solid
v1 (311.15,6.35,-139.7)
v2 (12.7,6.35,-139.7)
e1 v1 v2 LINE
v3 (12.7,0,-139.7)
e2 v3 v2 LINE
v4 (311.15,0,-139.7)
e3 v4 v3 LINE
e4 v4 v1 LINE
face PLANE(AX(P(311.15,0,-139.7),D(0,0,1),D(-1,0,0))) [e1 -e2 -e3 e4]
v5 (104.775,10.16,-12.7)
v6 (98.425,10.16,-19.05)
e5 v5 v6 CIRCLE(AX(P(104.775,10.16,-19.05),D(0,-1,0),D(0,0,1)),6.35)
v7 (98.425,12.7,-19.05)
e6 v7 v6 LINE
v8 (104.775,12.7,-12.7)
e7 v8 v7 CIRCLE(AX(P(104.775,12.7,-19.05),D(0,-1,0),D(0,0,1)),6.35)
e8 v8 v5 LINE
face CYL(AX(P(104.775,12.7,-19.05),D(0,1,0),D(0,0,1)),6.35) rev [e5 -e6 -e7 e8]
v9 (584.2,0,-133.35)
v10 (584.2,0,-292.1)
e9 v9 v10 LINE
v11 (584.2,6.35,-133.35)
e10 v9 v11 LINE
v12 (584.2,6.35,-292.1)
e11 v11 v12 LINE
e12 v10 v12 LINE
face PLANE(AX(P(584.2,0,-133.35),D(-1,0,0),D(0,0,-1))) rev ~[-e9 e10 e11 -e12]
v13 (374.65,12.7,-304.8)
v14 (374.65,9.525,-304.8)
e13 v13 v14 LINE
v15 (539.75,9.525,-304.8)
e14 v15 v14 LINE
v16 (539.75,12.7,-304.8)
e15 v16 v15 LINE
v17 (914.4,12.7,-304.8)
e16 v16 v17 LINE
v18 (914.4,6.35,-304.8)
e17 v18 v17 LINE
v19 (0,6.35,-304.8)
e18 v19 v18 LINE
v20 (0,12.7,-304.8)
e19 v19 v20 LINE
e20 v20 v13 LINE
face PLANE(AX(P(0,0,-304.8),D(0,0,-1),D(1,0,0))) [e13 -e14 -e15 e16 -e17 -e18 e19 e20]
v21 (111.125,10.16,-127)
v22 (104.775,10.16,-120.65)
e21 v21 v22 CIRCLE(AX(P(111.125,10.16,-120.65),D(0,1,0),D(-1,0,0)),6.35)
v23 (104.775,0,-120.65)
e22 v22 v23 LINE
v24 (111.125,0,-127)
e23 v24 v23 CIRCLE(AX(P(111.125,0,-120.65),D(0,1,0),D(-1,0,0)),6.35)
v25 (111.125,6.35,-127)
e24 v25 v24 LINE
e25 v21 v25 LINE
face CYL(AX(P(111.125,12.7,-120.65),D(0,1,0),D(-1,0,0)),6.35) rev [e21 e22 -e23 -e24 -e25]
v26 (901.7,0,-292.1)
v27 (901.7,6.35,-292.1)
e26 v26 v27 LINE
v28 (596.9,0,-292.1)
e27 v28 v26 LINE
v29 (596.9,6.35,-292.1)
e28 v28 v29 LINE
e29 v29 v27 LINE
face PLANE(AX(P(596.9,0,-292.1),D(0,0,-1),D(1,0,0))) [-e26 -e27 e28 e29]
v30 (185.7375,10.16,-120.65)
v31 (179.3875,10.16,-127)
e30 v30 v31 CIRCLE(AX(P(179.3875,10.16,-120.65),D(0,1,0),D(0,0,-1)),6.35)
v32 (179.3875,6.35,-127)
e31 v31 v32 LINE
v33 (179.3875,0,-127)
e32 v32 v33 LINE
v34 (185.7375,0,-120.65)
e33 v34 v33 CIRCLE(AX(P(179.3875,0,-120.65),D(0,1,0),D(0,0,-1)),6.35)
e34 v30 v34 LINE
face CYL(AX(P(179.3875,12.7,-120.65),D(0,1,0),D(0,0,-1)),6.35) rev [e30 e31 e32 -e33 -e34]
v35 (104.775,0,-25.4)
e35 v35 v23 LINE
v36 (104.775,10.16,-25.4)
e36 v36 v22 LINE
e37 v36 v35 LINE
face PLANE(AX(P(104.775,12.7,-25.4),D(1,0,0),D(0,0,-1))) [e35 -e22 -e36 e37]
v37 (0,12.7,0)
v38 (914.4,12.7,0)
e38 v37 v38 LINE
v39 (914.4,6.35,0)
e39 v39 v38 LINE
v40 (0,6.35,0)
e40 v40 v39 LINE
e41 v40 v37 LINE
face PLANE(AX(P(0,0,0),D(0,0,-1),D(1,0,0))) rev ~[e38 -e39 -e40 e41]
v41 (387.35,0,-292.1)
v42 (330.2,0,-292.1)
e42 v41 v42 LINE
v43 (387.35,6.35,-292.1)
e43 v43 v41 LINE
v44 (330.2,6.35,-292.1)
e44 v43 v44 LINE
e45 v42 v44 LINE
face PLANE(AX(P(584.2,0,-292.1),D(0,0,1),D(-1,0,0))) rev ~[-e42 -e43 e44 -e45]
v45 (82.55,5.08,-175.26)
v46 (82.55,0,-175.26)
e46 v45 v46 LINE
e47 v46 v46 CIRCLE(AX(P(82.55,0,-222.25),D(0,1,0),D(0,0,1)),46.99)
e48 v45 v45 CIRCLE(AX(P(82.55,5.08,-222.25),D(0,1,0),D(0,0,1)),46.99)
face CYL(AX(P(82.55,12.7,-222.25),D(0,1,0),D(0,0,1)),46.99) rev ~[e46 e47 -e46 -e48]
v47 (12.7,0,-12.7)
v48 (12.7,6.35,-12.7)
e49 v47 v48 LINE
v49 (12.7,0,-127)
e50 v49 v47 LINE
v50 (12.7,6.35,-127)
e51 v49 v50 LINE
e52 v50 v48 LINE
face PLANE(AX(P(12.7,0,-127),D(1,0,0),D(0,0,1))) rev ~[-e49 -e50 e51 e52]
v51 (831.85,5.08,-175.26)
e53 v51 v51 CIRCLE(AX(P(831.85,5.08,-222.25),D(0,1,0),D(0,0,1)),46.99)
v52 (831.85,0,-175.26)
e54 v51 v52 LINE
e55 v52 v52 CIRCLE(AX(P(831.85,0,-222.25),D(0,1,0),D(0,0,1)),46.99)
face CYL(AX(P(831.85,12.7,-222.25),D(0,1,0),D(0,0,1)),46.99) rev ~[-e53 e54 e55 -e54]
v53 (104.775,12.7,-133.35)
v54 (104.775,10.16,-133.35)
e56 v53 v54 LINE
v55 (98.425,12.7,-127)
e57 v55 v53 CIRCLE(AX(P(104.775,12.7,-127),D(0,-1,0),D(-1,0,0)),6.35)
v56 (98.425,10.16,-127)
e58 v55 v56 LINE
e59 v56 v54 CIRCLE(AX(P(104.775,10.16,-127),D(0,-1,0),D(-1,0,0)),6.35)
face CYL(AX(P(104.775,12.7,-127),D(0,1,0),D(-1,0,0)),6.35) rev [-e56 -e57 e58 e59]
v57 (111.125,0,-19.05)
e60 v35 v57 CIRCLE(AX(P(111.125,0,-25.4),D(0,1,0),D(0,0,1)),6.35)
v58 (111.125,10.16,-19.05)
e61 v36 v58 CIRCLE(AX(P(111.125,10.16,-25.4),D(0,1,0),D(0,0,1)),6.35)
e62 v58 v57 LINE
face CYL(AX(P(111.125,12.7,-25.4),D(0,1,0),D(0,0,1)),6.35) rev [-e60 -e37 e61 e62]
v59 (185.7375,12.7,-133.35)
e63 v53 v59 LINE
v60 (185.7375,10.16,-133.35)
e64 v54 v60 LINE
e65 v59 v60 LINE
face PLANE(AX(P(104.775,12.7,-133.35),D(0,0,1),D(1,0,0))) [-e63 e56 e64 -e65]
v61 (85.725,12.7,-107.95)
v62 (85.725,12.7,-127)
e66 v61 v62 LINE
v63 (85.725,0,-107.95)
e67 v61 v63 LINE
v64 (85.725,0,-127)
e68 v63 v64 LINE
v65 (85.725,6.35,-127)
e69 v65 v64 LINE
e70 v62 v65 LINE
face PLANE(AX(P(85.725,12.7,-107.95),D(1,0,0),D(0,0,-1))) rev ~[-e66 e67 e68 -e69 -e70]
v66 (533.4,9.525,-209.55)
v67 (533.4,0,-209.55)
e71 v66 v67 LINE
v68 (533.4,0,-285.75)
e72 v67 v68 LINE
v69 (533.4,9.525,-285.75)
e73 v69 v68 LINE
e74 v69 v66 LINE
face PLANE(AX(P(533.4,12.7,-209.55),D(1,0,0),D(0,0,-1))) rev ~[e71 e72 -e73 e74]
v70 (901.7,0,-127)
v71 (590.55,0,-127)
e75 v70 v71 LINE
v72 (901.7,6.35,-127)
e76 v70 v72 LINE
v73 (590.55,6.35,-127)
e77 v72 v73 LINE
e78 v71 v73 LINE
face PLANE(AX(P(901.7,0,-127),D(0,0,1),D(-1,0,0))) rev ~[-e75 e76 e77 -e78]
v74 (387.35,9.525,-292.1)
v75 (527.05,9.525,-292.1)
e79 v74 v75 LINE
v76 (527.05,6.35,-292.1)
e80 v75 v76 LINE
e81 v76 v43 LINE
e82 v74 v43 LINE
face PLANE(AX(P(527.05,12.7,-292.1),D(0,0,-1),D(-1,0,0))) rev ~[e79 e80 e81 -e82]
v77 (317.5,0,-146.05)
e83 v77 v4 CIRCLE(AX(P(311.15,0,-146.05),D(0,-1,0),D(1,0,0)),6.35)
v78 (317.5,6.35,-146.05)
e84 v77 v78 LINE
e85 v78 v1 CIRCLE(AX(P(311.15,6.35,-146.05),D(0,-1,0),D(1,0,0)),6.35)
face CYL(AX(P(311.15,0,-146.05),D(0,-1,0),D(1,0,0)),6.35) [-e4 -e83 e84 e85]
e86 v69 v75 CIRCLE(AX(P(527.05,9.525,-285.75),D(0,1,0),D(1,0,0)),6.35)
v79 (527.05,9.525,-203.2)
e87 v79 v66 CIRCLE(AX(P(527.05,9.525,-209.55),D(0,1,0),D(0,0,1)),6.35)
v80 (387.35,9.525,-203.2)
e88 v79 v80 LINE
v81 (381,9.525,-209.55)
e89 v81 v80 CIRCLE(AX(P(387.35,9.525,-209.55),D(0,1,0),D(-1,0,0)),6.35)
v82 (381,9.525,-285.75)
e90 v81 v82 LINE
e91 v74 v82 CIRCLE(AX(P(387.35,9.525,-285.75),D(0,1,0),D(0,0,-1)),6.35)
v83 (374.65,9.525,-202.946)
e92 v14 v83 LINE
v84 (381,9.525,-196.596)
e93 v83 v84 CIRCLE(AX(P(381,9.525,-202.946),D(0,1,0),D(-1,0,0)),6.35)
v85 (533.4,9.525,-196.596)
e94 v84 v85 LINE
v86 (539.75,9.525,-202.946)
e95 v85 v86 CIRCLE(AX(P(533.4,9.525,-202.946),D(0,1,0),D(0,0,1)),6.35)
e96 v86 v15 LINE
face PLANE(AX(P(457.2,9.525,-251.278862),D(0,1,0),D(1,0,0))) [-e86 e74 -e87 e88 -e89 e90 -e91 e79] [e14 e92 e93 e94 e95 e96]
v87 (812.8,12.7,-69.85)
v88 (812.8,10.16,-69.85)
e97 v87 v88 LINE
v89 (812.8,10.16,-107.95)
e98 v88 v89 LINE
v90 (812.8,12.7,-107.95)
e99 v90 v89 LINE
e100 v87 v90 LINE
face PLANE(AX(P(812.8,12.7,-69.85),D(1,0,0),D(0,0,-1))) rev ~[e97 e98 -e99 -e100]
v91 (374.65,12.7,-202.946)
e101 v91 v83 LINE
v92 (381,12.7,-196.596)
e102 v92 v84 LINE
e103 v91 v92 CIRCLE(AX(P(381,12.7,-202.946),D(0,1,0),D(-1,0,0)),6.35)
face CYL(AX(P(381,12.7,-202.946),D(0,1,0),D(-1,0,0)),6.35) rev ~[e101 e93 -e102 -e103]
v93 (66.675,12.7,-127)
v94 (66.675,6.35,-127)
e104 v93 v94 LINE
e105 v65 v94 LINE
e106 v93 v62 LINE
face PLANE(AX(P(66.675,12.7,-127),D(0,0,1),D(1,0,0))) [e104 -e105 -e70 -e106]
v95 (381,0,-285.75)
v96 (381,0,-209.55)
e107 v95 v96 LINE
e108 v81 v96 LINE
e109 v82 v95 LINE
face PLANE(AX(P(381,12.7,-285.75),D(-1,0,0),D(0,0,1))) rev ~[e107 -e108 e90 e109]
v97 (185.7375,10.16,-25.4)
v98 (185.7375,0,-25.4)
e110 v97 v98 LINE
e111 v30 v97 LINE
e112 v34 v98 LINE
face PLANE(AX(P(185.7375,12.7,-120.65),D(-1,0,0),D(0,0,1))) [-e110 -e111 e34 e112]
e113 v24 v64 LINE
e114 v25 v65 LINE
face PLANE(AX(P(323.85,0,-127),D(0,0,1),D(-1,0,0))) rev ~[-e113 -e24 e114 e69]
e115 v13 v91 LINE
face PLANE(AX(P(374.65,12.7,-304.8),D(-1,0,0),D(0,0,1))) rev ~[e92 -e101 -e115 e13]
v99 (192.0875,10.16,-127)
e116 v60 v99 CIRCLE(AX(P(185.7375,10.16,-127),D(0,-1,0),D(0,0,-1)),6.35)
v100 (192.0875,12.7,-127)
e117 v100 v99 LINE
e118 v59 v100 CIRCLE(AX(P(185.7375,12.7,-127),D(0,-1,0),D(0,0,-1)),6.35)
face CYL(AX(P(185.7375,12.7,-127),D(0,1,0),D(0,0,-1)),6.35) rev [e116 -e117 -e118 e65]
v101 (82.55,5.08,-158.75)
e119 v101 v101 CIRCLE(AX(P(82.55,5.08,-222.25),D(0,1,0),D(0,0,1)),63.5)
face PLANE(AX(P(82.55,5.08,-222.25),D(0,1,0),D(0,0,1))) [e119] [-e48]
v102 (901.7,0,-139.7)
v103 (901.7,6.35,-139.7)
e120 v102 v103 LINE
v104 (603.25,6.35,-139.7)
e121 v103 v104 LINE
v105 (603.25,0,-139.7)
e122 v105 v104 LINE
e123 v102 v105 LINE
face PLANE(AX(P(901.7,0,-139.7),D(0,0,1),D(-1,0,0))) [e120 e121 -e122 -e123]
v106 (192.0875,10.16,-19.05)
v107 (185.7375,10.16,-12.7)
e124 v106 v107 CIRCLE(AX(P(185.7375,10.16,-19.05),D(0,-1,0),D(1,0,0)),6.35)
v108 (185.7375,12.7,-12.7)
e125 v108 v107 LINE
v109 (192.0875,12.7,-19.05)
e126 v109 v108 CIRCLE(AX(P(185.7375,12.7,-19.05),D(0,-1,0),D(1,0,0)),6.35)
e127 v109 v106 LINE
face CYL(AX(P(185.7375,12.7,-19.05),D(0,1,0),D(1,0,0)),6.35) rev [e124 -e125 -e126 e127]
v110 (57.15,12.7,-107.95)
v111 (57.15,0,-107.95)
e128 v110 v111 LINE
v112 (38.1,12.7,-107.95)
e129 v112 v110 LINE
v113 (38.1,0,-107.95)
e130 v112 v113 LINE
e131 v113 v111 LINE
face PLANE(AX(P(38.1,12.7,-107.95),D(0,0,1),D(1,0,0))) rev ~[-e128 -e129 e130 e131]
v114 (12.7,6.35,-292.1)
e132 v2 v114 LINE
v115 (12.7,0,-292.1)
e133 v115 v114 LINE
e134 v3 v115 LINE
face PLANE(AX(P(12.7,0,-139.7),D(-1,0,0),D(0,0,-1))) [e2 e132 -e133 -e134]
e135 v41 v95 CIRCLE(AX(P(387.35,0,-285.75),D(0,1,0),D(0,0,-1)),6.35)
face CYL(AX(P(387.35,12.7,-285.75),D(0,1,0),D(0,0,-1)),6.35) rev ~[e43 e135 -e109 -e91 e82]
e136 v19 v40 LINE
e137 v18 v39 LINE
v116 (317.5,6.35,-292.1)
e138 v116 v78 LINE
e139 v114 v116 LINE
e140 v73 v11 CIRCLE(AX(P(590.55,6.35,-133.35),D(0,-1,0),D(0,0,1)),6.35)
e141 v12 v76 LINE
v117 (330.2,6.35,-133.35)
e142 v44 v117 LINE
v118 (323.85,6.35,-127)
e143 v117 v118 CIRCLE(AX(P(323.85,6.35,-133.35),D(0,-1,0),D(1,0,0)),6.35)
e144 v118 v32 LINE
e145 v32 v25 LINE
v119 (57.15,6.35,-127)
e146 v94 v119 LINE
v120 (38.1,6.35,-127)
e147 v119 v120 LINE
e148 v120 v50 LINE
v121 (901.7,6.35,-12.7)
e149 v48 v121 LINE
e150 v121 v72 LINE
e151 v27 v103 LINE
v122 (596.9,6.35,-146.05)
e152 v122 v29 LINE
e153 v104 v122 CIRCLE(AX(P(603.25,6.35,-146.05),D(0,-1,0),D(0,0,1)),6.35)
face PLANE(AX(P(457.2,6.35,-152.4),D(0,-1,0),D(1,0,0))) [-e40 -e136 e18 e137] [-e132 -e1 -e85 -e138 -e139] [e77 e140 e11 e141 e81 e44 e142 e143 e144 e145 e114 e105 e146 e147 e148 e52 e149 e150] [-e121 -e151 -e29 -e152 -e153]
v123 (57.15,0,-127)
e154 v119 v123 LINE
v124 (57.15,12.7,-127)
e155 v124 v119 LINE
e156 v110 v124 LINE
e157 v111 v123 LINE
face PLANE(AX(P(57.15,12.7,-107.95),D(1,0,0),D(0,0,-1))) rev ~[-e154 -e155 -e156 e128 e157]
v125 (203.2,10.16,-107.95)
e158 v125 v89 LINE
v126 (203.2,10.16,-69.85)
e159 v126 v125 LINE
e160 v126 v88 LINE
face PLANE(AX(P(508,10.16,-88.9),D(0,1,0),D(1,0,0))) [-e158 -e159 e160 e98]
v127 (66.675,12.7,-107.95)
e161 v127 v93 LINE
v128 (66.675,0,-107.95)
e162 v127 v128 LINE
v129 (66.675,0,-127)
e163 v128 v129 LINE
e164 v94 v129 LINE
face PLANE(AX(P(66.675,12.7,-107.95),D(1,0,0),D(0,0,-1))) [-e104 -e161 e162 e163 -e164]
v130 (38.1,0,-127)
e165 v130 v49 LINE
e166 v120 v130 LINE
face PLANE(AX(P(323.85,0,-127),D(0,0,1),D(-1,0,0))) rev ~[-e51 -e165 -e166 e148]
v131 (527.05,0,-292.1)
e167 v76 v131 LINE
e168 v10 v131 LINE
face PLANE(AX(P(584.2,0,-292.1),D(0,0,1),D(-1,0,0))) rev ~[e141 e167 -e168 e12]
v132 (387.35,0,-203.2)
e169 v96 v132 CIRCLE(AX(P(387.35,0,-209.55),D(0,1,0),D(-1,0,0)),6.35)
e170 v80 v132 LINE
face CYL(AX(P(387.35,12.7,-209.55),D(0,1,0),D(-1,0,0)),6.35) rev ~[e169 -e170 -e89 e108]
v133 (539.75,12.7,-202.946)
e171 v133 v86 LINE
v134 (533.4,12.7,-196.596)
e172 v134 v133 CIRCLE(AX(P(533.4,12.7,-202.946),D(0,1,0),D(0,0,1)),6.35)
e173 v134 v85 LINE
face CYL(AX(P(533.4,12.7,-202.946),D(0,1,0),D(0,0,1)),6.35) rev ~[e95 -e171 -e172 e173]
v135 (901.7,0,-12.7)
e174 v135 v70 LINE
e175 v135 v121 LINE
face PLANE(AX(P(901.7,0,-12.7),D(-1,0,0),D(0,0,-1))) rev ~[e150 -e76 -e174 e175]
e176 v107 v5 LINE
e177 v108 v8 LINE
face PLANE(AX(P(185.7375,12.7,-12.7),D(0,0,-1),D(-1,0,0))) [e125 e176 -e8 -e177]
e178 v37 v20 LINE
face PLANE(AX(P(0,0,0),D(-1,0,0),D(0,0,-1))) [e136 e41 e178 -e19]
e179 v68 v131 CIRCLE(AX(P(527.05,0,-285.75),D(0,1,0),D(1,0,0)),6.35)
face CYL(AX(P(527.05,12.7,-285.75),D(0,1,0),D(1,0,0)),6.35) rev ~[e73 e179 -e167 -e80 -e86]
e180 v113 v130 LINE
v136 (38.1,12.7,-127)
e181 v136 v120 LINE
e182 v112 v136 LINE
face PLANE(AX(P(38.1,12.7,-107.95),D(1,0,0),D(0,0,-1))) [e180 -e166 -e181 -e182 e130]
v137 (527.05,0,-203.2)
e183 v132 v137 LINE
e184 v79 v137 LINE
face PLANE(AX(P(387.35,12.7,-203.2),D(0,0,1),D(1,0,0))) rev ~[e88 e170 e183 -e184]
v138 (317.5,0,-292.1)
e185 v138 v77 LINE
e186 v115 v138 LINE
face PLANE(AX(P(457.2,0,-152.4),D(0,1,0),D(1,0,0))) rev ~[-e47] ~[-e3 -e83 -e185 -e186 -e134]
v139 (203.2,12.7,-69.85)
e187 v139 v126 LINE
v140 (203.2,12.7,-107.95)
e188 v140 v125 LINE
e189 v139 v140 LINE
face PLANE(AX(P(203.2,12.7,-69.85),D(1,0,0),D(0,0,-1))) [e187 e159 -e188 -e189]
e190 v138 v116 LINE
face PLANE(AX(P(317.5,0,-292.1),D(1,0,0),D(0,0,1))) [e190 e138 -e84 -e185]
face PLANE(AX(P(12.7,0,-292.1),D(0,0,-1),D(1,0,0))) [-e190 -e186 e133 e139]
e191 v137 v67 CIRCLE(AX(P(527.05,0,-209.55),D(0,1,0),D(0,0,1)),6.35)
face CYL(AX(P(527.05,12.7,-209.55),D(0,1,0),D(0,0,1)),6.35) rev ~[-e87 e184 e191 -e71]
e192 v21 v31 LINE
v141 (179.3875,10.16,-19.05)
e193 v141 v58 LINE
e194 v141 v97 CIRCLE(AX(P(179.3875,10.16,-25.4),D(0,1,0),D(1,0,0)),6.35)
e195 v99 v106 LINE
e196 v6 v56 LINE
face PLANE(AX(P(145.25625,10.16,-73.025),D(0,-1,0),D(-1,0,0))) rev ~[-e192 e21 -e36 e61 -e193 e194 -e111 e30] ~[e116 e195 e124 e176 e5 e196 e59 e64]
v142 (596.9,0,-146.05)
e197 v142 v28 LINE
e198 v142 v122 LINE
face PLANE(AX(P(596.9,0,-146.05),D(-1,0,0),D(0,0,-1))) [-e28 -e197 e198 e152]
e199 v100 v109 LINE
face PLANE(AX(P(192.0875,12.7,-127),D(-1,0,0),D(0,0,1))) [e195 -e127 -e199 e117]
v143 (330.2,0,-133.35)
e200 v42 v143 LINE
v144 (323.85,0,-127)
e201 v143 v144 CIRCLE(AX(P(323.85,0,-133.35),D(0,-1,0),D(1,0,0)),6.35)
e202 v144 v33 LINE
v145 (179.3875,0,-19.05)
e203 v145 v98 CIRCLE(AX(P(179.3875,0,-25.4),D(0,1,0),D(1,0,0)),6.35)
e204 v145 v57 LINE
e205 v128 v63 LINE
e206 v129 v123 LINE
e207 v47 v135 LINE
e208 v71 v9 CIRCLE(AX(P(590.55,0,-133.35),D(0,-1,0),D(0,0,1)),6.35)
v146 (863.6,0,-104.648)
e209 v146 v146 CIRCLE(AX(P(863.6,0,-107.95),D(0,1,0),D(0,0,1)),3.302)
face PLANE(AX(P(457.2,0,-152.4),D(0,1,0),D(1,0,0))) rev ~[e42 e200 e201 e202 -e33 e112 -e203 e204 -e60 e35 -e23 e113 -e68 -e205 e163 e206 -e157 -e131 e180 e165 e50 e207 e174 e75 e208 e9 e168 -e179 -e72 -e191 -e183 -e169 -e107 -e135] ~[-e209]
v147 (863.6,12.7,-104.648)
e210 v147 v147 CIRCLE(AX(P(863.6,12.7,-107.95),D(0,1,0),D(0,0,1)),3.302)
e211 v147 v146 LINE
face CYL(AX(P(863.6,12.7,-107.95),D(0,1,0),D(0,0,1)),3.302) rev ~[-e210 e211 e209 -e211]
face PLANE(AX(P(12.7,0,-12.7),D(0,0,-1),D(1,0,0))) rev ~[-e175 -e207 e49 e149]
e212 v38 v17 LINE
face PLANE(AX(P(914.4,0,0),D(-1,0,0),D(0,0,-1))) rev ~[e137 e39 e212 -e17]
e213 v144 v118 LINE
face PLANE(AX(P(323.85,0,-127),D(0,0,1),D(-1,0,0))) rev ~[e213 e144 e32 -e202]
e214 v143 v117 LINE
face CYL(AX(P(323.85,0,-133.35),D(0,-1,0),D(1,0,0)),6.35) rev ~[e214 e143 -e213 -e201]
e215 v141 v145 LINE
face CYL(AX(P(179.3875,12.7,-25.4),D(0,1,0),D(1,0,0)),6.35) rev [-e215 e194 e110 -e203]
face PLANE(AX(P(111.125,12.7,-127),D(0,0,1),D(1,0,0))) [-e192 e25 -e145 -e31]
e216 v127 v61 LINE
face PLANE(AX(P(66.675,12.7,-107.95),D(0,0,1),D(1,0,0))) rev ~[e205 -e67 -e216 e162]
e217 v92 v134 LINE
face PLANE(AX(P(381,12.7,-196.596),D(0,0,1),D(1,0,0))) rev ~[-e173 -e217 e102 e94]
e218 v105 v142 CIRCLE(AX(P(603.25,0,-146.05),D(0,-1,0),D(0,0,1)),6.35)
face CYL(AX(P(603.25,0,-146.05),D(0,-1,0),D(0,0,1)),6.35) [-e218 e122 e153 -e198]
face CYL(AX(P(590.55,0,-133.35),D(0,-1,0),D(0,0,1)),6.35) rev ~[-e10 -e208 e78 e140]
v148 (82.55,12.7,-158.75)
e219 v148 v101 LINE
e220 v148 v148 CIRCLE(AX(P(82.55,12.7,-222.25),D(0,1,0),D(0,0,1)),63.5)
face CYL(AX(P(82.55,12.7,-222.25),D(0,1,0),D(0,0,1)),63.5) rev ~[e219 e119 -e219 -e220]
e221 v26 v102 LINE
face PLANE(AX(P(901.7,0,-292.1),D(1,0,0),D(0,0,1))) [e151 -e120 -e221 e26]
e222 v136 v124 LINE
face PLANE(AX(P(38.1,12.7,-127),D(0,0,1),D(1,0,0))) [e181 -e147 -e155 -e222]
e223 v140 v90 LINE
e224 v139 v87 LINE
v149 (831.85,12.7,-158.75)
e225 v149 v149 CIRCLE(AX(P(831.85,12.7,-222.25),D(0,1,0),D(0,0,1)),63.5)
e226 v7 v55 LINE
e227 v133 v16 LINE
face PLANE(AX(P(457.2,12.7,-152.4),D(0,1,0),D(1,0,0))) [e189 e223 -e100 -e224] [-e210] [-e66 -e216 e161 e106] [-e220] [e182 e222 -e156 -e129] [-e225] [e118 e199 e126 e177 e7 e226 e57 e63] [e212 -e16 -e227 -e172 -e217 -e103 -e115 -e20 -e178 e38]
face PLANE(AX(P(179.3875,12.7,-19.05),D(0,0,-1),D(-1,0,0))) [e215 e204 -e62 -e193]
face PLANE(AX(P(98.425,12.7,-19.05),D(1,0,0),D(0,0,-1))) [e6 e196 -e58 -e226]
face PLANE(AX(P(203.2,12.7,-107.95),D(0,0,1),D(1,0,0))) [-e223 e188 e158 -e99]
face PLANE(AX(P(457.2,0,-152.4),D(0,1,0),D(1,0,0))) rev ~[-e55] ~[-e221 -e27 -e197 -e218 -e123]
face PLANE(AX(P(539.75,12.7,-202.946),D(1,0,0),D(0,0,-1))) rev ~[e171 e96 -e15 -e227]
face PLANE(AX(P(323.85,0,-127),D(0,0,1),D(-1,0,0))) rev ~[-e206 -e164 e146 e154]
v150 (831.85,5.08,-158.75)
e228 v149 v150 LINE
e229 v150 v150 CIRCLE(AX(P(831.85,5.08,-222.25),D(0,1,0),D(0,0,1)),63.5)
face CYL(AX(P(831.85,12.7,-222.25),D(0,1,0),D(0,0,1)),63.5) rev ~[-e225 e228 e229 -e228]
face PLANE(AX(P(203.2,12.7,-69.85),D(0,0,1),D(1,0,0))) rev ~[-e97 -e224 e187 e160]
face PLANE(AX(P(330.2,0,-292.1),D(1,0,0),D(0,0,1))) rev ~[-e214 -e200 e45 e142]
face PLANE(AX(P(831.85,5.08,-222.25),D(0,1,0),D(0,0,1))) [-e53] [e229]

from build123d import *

# Parameters (mm, degrees)
SKETCH1_W           = 914.4
SKETCH1_H           = 304.8
BOSS_EXTRUDE1_DEPTH = 12.7
SKETCH5_W           = 609.6
SKETCH5_H           = 38.1
CUT_EXTRUDE3_DEPTH  = 2.54
SKETCH6_R           = 46.99
CUT_EXTRUDE4_DEPTH  = 964.945895785
SKETCH7_R           = 63.5
CUT_EXTRUDE5_DEPTH  = 7.62
CUT_EXTRUDE6_DEPTH  = 964.945895785
CUT_EXTRUDE7_DEPTH  = 3.175
SKETCH13_W          = 19.05
SKETCH13_H          = 19.05
CUT_EXTRUDE11_DEPTH = 964.945895785
CUT_EXTRUDE19_DEPTH = 964.945895785
CUT_EXTRUDE20_DEPTH = 2.54
SKETCH26_R          = 3.302
CUT_EXTRUDE21_DEPTH = 964.945895785
SKETCH19_W          = 914.4
SKETCH19_H          = 304.8
CUT_EXTRUDE16_DEPTH = 6.35


with BuildPart() as part:
    # Sketch1 → Boss-Extrude1 (new body)
    with BuildSketch(Plane(origin=(0, 0, 0), x_dir=(1, 0, 0), z_dir=(0, 1, 0))):
        with Locations((457.2, 152.4)):
            Rectangle(SKETCH1_W, SKETCH1_H)
    extrude(amount=BOSS_EXTRUDE1_DEPTH)

    # Sketch5 → Cut-Extrude3 (cut)
    with BuildSketch(Plane(origin=(0, 12.7, 0), x_dir=(1, 0, 0), z_dir=(0, 1, 0))):
        with Locations((508, 88.9)):
            Rectangle(SKETCH5_W, SKETCH5_H)
    extrude(amount=-CUT_EXTRUDE3_DEPTH, mode=Mode.SUBTRACT)

    # Sketch6 → Cut-Extrude4 (cut, through all)
    with BuildSketch(Plane(origin=(0, 12.7, 0), x_dir=(1, 0, 0), z_dir=(0, 1, 0))):
        with Locations(Location((82.55, 222.25, 0), (0, 0, 270))):
            Circle(SKETCH6_R)
        with Locations(Location((831.85, 222.25, 0), (0, 0, 270))):
            Circle(SKETCH6_R)
    extrude(amount=-CUT_EXTRUDE4_DEPTH, mode=Mode.SUBTRACT)

    # Sketch7 → Cut-Extrude5 (cut)
    with BuildSketch(Plane(origin=(0, 12.7, 0), x_dir=(1, 0, 0), z_dir=(0, 1, 0))):
        with Locations(Location((82.55, 222.25, 0), (0, 0, 270))):
            Circle(SKETCH7_R)
        with Locations(Location((831.85, 222.25, 0), (0, 0, 270))):
            Circle(SKETCH7_R)
    extrude(amount=-CUT_EXTRUDE5_DEPTH, mode=Mode.SUBTRACT)

    # Sketch8 → Cut-Extrude6 (cut, through all)
    with BuildSketch(Plane(origin=(0, 12.7, 0), x_dir=(1, 0, 0), z_dir=(0, 1, 0))):
        with BuildLine():
            Line((381, 285.75), (381, 209.55))
            ThreePointArc((381, 209.55), (382.859871939, 205.059871939), (387.35, 203.2))
            Line((387.35, 203.2), (527.05, 203.2))
            ThreePointArc((527.05, 203.2), (531.540128061, 205.059871939), (533.4, 209.55))
            Line((533.4, 209.55), (533.4, 285.75))
            ThreePointArc((533.4, 285.75), (531.540128061, 290.240128061), (527.05, 292.1))
            Line((527.05, 292.1), (387.35, 292.1))
            ThreePointArc((387.35, 292.1), (382.859871939, 290.240128061), (381, 285.75))
        make_face()
    extrude(amount=-CUT_EXTRUDE6_DEPTH, mode=Mode.SUBTRACT)

    # Sketch9 → Cut-Extrude7 (cut)
    with BuildSketch(Plane(origin=(0, 12.7, 0), x_dir=(1, 0, 0), z_dir=(0, 1, 0))):
        with BuildLine():
            Line((539.75, 304.8), (374.65, 304.8))
            Line((374.65, 304.8), (374.65, 202.946))
            ThreePointArc((374.65, 202.946), (376.509871939, 198.455871939), (381, 196.596))
            Line((381, 196.596), (533.4, 196.596))
            ThreePointArc((533.4, 196.596), (537.890128061, 198.455871939), (539.75, 202.946))
            Line((539.75, 202.946), (539.75, 304.8))
        make_face()
    extrude(amount=-CUT_EXTRUDE7_DEPTH, mode=Mode.SUBTRACT)

    # Sketch13 → Cut-Extrude11 (cut, through all)
    with BuildSketch(Plane(origin=(0, 12.7, 0), x_dir=(1, 0, 0), z_dir=(0, 1, 0))):
        with Locations((47.625, 117.475)):
            Rectangle(SKETCH13_W, SKETCH13_H)
        with Locations((76.2, 117.475)):
            Rectangle(SKETCH13_W, SKETCH13_H)
    extrude(amount=-CUT_EXTRUDE11_DEPTH, mode=Mode.SUBTRACT)

    # Sketch24 → Cut-Extrude19 (cut, through all)
    with BuildSketch(Plane(origin=(0, 12.7, 0), x_dir=(1, 0, 0), z_dir=(0, 1, 0))):
        with BuildLine():
            Line((111.125, 127), (179.3875, 127))
            ThreePointArc((179.3875, 127), (183.877628061, 125.140128061), (185.7375, 120.65))
            Line((185.7375, 120.65), (185.7375, 25.4))
            ThreePointArc((185.7375, 25.4), (183.877628061, 20.909871939), (179.3875, 19.05))
            Line((179.3875, 19.05), (111.125, 19.05))
            ThreePointArc((111.125, 19.05), (106.634871939, 20.909871939), (104.775, 25.4))
            Line((104.775, 25.4), (104.775, 120.65))
            ThreePointArc((104.775, 120.65), (106.634871939, 125.140128061), (111.125, 127))
        make_face()
    extrude(amount=-CUT_EXTRUDE19_DEPTH, mode=Mode.SUBTRACT)

    # Sketch25 → Cut-Extrude20 (cut)
    with BuildSketch(Plane(origin=(0, 12.7, 0), x_dir=(1, 0, 0), z_dir=(0, 1, 0))):
        with BuildLine():
            Line((104.775, 133.35), (185.7375, 133.35))
            ThreePointArc((185.7375, 133.35), (190.227628061, 131.490128061), (192.0875, 127))
            Line((192.0875, 127), (192.0875, 19.05))
            ThreePointArc((192.0875, 19.05), (190.227628061, 14.559871939), (185.7375, 12.7))
            Line((185.7375, 12.7), (104.775, 12.7))
            ThreePointArc((104.775, 12.7), (100.284871939, 14.559871939), (98.425, 19.05))
            Line((98.425, 19.05), (98.425, 127))
            ThreePointArc((98.425, 127), (100.284871939, 131.490128061), (104.775, 133.35))
        make_face()
    extrude(amount=-CUT_EXTRUDE20_DEPTH, mode=Mode.SUBTRACT)

    # Sketch26 → Cut-Extrude21 (cut, through all)
    with BuildSketch(Plane(origin=(0, 12.7, 0), x_dir=(1, 0, 0), z_dir=(0, 1, 0))):
        with Locations(Location((863.6, 107.95, 0), (0, 0, 270))):
            Circle(SKETCH26_R)
    extrude(amount=-CUT_EXTRUDE21_DEPTH, mode=Mode.SUBTRACT)

    # Sketch19 → Cut-Extrude16 (cut)
    with BuildSketch(Plane.XZ):
        with Locations((457.2, -152.4)):
            Rectangle(SKETCH19_W, SKETCH19_H)
        with BuildLine():
            Line((12.7, -139.7), (12.7, -292.1))
            Line((12.7, -292.1), (317.5, -292.1))
            Line((317.5, -292.1), (317.5, -146.05))
            ThreePointArc((317.5, -146.05), (315.640128061, -141.559871939), (311.15, -139.7))
            Line((311.15, -139.7), (12.7, -139.7))
        make_face(mode=Mode.SUBTRACT)
        with BuildLine():
            Line((596.9, -292.1), (901.7, -292.1))
            Line((901.7, -292.1), (901.7, -139.7))
            Line((901.7, -139.7), (603.25, -139.7))
            ThreePointArc((603.25, -139.7), (598.759871939, -141.559871939), (596.9, -146.05))
            Line((596.9, -146.05), (596.9, -292.1))
        make_face(mode=Mode.SUBTRACT)
        with BuildLine():
            Line((12.7, -127), (12.7, -12.7))
            Line((12.7, -12.7), (901.7, -12.7))
            Line((901.7, -12.7), (901.7, -127))
            Line((901.7, -127), (590.55, -127))
            ThreePointArc((590.55, -127), (586.059871939, -128.859871939), (584.2, -133.35))
            Line((584.2, -133.35), (584.2, -292.1))
            Line((584.2, -292.1), (330.2, -292.1))
            Line((330.2, -292.1), (330.2, -133.35))
            ThreePointArc((330.2, -133.35), (328.340128061, -128.859871939), (323.85, -127))
            Line((323.85, -127), (12.7, -127))
        make_face(mode=Mode.SUBTRACT)
    extrude(amount=-CUT_EXTRUDE16_DEPTH, mode=Mode.SUBTRACT)


solid = part.part
